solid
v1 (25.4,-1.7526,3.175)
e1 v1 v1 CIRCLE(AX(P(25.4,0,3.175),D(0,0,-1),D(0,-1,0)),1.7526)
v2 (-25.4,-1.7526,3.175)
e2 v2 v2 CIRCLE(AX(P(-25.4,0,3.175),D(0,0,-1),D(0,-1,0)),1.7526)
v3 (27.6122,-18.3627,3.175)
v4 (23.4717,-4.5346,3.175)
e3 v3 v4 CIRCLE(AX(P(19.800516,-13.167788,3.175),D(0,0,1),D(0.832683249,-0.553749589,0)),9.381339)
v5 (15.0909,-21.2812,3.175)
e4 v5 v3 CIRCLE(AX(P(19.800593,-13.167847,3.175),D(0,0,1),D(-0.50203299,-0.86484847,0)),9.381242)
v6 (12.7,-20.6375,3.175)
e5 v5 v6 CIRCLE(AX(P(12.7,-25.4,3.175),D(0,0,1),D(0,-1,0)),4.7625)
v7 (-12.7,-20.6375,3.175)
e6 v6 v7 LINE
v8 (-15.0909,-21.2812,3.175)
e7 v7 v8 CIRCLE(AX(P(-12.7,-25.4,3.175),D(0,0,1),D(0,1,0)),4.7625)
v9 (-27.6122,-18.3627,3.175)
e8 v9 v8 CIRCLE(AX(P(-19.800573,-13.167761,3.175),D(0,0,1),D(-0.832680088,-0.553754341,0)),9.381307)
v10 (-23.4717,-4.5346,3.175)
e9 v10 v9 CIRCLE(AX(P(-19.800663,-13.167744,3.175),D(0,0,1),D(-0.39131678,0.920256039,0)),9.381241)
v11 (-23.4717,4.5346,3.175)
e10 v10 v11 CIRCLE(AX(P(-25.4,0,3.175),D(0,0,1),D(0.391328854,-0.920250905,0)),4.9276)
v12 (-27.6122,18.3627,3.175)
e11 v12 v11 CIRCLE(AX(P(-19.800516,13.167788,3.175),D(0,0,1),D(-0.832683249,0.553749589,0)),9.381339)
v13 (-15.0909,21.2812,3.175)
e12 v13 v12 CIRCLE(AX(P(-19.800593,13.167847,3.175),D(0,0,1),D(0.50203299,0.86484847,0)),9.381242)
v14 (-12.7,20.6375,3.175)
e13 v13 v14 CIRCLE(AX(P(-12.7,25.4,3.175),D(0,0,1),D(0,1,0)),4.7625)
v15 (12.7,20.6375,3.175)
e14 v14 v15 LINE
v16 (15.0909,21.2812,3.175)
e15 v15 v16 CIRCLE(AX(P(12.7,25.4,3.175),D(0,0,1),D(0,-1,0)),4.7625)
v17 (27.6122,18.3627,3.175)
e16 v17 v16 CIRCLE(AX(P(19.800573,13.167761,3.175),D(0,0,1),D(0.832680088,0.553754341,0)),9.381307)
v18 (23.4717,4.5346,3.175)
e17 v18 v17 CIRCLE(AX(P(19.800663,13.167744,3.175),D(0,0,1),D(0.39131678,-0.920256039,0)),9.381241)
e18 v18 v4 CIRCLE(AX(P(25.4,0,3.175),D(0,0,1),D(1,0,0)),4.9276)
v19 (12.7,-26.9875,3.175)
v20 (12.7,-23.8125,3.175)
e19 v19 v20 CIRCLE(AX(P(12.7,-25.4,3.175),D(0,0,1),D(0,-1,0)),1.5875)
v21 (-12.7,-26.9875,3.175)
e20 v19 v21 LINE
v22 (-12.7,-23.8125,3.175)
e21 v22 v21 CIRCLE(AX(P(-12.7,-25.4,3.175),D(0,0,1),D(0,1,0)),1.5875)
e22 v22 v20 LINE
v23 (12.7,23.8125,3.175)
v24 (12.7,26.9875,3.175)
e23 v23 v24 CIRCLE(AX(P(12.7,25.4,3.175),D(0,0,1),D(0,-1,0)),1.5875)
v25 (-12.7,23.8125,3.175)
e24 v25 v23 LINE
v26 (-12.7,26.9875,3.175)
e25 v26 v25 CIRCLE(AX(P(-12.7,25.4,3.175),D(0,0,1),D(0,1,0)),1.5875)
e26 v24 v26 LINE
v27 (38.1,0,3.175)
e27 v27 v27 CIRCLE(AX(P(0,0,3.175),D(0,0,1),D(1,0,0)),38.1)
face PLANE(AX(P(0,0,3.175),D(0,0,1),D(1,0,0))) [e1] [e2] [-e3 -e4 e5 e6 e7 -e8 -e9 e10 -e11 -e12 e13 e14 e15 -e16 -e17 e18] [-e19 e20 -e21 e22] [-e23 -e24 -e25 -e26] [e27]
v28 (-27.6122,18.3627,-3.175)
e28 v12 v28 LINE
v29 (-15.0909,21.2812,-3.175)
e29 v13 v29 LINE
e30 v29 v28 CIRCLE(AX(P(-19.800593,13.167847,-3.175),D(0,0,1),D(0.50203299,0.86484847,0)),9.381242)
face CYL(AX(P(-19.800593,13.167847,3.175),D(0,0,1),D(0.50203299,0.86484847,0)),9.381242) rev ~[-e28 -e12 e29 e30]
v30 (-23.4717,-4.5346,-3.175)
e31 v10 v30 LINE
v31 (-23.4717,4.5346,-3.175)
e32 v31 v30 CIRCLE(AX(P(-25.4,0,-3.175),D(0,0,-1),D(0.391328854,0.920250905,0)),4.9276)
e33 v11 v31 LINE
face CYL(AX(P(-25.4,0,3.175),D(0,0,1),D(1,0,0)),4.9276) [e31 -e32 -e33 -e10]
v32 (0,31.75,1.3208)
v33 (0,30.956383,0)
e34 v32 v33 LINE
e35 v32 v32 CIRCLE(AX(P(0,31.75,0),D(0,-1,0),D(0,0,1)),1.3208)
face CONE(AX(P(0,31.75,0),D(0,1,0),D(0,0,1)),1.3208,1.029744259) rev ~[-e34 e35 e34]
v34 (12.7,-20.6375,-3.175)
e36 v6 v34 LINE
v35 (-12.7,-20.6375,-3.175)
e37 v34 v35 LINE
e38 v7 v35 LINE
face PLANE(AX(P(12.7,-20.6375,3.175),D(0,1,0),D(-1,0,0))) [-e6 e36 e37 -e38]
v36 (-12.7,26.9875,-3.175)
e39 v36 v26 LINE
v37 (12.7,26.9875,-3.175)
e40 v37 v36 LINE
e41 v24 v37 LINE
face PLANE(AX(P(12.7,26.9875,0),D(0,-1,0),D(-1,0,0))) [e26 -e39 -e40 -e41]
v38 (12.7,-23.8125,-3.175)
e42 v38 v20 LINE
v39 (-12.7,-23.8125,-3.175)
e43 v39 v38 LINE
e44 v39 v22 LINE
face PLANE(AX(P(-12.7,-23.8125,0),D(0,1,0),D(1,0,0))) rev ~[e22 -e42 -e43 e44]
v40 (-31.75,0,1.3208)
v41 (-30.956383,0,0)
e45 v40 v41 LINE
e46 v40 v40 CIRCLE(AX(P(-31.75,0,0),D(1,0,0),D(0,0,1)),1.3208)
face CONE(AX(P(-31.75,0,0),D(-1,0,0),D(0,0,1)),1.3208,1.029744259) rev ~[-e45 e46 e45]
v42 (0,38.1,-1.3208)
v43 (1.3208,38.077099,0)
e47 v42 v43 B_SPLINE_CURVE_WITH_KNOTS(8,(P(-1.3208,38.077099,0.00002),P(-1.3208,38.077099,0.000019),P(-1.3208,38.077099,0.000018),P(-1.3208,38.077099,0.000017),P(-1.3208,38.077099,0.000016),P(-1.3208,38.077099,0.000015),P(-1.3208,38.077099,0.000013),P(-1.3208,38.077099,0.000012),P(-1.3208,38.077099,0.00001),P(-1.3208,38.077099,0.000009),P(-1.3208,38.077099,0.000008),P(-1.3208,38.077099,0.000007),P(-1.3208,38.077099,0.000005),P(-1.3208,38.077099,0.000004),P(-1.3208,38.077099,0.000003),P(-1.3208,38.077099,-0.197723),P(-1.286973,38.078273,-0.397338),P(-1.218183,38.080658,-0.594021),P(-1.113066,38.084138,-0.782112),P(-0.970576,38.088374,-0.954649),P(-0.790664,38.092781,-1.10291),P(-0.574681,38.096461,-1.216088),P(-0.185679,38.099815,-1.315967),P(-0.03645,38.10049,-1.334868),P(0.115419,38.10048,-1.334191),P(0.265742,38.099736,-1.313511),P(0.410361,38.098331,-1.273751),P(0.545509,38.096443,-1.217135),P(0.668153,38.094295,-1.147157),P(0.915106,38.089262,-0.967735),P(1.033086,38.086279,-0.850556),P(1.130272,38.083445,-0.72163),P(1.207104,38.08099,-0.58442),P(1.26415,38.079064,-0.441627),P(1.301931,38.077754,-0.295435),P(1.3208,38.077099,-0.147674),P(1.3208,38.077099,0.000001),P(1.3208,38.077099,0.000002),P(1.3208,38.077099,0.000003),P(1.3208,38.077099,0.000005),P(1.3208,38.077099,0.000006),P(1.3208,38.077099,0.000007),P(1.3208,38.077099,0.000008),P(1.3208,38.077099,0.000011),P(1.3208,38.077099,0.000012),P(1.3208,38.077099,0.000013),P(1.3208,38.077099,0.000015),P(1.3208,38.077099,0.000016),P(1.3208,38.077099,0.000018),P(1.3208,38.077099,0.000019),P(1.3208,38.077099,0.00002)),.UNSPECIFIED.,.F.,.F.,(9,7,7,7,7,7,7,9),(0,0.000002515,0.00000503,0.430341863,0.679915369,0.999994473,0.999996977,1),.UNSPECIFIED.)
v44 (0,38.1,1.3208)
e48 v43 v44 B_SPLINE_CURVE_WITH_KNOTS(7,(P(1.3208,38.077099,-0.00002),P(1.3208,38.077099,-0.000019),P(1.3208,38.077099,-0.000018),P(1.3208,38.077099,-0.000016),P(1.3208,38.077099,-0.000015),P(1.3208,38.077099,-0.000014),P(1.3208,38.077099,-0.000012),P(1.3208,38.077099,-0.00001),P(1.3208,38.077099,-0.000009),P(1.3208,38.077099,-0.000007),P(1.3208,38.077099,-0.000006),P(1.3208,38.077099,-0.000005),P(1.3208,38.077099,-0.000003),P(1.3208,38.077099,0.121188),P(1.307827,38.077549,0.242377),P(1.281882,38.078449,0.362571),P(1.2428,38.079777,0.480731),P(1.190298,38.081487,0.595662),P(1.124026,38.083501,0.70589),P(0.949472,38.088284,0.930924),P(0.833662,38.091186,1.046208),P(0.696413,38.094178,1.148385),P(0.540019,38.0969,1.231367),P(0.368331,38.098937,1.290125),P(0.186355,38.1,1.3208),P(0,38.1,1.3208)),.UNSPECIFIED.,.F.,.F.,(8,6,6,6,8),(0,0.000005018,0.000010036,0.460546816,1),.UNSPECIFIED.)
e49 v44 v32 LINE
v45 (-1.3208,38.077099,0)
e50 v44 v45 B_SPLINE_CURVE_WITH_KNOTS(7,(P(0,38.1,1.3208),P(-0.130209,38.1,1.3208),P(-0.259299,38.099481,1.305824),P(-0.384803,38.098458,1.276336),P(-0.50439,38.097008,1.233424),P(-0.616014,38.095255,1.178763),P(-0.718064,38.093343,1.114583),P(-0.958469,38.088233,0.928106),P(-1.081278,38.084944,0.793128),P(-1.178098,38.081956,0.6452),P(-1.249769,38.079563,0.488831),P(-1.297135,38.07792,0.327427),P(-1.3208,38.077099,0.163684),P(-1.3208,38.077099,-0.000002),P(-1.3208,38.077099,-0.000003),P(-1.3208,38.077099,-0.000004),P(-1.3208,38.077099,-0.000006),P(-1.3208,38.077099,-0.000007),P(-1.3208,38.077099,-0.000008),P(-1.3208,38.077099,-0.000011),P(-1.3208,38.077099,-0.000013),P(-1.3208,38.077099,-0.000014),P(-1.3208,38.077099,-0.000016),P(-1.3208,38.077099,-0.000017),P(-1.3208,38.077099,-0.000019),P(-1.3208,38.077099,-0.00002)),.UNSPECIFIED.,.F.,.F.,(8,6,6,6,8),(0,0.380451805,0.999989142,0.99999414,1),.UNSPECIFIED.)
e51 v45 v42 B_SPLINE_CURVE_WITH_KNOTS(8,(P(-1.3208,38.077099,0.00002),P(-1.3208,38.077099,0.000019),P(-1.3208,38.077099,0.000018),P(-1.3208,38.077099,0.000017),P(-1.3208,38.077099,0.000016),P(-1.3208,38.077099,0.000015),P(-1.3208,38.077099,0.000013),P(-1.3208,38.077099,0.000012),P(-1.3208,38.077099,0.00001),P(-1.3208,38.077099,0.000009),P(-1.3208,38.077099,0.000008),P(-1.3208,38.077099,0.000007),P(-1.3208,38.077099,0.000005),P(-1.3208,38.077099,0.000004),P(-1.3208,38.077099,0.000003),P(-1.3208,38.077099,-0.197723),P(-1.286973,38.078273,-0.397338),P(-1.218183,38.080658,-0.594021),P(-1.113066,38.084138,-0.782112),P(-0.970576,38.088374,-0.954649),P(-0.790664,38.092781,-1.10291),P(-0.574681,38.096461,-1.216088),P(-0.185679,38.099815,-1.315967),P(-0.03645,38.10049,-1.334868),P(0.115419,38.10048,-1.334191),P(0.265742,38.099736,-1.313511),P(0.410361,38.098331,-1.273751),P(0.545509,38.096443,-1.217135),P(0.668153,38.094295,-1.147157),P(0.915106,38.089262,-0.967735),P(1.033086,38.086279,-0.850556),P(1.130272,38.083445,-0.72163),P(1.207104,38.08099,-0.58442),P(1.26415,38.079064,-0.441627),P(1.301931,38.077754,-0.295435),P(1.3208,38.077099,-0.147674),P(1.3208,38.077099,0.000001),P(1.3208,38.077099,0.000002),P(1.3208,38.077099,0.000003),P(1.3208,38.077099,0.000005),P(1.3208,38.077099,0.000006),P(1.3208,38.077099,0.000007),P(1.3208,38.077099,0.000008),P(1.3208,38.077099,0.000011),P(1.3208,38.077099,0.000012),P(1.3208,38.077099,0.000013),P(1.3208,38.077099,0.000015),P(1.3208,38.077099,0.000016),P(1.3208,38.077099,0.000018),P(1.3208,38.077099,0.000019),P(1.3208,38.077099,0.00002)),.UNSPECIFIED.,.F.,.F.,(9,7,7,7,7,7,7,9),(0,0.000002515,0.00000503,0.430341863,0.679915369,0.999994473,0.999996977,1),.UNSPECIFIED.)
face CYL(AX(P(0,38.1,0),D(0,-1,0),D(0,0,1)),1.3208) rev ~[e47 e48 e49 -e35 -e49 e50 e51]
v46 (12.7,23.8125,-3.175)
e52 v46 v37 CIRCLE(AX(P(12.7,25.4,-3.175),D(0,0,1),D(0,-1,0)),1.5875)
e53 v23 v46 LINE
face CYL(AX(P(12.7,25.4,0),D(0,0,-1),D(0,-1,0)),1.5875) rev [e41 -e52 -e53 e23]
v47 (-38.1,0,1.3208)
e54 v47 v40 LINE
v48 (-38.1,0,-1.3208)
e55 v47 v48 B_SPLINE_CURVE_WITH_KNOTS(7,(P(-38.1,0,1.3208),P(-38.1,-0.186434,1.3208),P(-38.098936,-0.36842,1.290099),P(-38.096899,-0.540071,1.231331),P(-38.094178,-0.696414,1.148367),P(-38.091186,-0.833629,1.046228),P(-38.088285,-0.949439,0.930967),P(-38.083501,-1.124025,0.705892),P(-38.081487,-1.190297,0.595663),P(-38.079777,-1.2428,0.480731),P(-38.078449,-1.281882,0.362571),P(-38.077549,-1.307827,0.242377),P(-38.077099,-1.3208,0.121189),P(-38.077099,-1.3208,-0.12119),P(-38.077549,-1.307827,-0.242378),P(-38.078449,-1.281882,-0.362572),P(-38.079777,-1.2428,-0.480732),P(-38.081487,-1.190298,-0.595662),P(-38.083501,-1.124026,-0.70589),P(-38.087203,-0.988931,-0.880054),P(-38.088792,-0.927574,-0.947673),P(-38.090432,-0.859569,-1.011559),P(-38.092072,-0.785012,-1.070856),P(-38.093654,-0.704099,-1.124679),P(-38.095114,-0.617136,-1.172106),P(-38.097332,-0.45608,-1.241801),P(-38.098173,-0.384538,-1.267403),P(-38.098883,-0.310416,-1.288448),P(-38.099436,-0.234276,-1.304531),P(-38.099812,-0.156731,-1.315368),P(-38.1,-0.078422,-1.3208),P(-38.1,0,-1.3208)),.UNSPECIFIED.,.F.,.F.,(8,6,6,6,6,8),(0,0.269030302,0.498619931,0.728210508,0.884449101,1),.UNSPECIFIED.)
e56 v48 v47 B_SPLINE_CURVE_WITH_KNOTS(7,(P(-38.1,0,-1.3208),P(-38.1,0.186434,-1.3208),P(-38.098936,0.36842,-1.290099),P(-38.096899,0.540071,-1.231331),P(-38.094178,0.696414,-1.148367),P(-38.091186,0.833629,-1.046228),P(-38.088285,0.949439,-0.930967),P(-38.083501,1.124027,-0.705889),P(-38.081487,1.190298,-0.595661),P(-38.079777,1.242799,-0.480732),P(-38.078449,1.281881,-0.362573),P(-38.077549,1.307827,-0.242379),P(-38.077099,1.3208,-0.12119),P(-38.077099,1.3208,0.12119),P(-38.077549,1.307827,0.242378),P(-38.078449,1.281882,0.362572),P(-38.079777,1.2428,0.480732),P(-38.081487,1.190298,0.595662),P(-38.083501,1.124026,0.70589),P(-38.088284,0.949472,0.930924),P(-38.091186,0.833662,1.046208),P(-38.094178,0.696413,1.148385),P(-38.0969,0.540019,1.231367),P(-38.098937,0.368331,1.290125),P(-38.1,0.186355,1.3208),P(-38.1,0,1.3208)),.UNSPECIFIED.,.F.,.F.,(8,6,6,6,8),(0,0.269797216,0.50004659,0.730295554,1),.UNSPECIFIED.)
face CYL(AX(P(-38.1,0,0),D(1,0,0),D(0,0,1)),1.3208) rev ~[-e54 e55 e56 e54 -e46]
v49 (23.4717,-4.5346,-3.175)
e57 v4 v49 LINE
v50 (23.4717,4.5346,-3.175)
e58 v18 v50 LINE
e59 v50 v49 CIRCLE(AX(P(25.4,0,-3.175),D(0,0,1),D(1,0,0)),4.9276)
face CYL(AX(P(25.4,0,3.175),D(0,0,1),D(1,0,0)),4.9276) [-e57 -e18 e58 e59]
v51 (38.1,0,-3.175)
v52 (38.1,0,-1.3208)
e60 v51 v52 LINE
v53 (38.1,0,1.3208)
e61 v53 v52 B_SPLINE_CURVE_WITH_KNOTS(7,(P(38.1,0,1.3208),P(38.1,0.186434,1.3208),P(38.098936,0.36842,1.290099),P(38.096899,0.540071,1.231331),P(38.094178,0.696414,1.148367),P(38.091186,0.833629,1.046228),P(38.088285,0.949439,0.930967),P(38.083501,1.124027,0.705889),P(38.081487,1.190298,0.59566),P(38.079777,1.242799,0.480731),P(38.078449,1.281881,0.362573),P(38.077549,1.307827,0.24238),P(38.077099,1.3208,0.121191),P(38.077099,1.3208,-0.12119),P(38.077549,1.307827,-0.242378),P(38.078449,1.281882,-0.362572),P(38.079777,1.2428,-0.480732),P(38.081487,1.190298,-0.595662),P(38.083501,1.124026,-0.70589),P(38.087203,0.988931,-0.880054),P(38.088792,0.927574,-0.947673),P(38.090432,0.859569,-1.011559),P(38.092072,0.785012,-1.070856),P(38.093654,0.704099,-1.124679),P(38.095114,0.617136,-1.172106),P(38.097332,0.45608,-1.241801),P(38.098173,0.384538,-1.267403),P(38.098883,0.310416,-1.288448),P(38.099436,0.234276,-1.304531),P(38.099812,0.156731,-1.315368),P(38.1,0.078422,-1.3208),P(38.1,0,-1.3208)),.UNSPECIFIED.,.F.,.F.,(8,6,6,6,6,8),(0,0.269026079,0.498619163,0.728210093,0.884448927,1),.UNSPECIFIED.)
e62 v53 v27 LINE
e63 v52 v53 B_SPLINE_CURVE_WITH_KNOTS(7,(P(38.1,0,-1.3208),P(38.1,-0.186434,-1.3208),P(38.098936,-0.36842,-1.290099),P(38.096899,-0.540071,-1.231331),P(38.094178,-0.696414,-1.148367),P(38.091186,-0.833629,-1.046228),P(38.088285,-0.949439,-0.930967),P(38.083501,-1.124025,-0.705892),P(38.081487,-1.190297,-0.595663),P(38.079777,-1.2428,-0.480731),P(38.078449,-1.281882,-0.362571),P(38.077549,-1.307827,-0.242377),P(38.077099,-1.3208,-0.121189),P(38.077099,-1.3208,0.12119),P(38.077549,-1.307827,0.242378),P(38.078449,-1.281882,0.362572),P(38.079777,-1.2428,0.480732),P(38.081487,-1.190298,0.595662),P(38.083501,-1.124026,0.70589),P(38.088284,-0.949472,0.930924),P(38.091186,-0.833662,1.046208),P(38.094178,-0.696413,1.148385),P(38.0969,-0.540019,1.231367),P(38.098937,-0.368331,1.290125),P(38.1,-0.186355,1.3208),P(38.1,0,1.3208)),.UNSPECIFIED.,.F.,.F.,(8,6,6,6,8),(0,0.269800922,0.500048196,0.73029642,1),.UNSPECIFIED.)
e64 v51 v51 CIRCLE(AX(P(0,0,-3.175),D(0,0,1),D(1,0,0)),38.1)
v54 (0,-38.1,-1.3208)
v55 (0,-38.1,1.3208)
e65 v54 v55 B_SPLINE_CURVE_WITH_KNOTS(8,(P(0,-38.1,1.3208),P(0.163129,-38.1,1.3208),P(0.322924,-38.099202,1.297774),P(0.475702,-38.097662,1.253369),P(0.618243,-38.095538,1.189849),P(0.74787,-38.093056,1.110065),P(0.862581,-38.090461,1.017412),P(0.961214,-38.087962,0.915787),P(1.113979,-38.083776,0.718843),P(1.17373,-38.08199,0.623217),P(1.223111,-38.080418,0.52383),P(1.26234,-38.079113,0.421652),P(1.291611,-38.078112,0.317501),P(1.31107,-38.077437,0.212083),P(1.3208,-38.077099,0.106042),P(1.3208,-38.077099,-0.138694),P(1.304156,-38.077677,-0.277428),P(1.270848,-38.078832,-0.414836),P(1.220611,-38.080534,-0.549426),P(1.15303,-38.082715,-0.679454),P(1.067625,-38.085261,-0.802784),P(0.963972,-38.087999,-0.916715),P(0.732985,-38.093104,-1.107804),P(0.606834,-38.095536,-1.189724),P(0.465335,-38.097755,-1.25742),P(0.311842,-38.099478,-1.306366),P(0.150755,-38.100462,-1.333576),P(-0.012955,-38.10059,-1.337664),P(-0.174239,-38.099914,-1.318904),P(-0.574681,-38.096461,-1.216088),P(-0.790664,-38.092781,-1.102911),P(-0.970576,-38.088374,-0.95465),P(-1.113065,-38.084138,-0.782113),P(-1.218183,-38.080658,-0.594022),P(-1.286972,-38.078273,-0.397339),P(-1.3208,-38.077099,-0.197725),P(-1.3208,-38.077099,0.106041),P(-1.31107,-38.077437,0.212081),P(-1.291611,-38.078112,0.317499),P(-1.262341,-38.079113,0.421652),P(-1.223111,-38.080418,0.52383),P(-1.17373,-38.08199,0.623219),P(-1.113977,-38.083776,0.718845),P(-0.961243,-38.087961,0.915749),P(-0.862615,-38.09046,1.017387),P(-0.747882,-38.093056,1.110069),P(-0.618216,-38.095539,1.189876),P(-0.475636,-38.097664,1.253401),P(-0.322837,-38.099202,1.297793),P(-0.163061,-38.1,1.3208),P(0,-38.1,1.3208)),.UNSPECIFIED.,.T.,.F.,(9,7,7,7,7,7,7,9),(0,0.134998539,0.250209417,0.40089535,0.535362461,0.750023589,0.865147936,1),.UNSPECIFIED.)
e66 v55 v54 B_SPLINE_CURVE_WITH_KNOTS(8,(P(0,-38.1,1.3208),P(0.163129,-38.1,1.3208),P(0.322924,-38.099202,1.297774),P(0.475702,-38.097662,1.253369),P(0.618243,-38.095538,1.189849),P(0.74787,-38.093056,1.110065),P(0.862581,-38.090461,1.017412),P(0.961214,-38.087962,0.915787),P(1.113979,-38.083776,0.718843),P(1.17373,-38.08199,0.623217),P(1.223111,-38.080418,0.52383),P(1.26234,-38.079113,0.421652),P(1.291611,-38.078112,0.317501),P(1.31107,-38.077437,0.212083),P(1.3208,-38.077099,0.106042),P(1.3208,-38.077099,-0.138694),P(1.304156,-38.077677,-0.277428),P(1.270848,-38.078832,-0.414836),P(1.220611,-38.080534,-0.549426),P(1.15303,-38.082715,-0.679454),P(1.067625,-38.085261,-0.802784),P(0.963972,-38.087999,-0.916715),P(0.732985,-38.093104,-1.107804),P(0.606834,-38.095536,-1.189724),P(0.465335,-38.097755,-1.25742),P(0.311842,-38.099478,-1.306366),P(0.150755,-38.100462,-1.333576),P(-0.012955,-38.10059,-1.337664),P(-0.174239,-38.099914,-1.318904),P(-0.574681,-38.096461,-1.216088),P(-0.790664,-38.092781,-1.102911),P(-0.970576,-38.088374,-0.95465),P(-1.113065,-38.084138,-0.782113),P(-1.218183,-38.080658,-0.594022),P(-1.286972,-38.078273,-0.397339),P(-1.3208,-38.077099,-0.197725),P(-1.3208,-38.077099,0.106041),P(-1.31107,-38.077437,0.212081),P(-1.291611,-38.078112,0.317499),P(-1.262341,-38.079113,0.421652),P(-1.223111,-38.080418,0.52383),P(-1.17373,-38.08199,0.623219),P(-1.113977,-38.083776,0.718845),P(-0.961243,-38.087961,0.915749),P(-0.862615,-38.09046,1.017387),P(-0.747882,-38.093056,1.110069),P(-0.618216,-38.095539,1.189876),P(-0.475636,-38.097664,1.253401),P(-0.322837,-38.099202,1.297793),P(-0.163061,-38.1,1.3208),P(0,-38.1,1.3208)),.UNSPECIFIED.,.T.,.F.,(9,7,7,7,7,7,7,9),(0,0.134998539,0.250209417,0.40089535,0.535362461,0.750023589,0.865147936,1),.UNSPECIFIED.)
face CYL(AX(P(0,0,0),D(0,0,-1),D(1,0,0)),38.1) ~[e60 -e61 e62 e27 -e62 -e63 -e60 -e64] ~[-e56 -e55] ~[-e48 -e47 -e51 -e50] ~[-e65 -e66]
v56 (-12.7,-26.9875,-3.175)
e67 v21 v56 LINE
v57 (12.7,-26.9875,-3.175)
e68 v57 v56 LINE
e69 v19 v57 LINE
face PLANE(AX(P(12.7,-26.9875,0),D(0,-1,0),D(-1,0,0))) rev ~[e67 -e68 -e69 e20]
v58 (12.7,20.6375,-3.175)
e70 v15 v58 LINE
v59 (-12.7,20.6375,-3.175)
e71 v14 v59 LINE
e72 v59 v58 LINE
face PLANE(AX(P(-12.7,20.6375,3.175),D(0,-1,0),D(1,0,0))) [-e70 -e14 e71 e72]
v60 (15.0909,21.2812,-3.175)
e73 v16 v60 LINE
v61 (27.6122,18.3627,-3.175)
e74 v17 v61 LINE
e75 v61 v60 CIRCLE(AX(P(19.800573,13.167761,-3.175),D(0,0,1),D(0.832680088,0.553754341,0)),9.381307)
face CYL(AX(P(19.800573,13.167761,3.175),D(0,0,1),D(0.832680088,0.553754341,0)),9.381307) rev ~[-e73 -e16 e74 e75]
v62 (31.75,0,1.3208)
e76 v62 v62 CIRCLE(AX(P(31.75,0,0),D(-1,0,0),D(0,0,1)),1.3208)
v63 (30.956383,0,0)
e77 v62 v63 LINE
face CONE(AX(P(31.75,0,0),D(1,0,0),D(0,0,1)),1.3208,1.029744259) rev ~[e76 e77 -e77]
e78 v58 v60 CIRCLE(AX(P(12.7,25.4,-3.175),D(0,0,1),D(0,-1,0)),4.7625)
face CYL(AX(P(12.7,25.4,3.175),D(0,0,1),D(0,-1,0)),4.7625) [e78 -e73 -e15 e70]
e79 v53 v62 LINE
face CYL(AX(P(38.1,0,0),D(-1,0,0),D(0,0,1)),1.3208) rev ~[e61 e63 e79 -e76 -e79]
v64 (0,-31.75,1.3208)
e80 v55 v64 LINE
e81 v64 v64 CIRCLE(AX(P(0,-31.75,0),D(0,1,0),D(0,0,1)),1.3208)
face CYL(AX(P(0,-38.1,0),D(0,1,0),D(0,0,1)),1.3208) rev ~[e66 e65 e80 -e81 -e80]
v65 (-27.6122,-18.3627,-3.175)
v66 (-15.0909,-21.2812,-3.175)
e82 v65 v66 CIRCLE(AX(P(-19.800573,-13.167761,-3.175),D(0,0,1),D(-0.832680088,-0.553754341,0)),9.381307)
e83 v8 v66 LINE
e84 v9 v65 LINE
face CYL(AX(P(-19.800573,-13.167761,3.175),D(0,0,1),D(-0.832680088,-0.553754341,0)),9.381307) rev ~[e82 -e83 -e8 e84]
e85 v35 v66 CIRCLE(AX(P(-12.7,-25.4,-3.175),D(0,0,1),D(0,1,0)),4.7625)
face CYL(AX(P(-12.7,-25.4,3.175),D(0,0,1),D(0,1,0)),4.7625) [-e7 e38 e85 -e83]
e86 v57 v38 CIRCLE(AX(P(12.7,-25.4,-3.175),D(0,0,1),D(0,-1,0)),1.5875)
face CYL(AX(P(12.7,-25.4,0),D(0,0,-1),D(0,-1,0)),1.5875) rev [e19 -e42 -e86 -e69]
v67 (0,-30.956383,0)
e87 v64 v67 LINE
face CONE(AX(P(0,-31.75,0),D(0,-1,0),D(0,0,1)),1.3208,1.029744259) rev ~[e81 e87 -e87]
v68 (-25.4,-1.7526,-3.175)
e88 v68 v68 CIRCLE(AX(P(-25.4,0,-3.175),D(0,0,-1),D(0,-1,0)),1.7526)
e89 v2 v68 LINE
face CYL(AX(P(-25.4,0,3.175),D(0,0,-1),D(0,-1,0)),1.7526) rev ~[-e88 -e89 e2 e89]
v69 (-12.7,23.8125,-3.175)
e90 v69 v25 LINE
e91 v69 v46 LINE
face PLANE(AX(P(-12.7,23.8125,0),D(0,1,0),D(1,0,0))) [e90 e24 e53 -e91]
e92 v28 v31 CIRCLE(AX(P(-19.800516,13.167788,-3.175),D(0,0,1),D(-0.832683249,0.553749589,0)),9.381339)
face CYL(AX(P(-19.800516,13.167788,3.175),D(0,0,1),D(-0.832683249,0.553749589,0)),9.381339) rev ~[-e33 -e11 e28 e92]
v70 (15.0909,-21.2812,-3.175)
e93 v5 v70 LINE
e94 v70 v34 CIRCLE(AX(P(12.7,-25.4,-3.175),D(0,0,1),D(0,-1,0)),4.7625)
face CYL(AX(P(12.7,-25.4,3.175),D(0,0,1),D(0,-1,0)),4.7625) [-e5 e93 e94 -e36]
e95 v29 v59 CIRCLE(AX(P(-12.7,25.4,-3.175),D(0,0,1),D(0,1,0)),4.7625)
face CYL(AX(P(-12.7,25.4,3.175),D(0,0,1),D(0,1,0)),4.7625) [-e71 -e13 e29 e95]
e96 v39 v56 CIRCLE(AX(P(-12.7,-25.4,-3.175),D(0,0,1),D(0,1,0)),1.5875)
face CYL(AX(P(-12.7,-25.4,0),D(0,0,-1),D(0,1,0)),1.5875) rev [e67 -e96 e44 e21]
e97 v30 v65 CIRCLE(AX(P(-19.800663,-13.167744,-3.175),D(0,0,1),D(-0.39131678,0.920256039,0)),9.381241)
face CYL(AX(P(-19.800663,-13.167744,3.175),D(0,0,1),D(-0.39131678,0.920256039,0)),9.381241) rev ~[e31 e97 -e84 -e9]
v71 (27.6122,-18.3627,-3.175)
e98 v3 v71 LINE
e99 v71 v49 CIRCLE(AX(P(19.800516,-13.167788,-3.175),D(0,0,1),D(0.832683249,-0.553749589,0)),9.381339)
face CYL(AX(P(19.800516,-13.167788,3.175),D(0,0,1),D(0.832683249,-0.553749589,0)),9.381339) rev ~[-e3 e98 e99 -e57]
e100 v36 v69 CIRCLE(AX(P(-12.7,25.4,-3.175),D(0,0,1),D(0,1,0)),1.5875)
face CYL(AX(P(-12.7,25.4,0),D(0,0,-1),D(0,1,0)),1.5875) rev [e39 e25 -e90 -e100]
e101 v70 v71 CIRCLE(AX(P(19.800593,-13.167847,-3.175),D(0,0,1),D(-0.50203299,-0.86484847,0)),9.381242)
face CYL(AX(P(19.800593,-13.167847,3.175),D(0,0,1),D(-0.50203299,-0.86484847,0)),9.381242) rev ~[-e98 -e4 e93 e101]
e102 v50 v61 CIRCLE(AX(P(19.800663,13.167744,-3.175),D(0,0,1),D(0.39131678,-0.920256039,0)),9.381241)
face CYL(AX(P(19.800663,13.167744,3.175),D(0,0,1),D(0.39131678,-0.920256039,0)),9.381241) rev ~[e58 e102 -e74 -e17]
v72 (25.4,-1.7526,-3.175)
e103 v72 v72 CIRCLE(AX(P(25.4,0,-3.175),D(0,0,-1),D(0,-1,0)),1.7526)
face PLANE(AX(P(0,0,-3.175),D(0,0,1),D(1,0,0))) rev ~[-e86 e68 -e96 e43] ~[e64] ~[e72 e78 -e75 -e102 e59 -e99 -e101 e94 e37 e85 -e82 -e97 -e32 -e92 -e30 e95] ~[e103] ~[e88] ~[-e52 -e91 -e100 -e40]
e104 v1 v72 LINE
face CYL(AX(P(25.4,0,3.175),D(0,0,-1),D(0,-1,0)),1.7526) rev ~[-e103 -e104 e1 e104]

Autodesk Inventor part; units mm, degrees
ref_plane "YZ Plane" through (0, 0, 0) normal (1, 0, 0) x (0, 1, 0)
ref_plane "XY Plane" through (0, 0, 0) normal (0, 0, 1) x (1, 0, 0)
sketch "Sketch1" plane through (0, 0, 0) normal (0, 0, 1) x (1, 0, 0)
  circle A0 centre (0, 0) radius 38.1
  line L0 (-12.7, 25.4) -> (12.7, 25.4) construction
  line L1 (-12.7, 23.8125) -> (12.7, 23.8125)
  line L2 (12.7, 26.9875) -> (-12.7, 26.9875)
  arc A1 (-12.7, 26.9875) -> (-12.7, 23.8125) centre (-12.7, 25.4) ccw
  arc A2 (12.7, 23.8125) -> (12.7, 26.9875) centre (12.7, 25.4) ccw
  line L3 (0, 38.1) -> (0, -38.1) construction
  line L4 (-38.1, 0) -> (38.1, 0) construction
  line L5 (-12.7, -25.4) -> (12.7, -25.4) construction
  line L6 (-12.7, -23.8125) -> (12.7, -23.8125)
  line L7 (12.7, -26.9875) -> (-12.7, -26.9875)
  arc A3 (-12.7, -23.8125) -> (-12.7, -26.9875) centre (-12.7, -25.4) ccw
  arc A4 (12.7, -26.9875) -> (12.7, -23.8125) centre (12.7, -25.4) ccw
  point P0 (0, 25.4)
  point P1 (0, -25.4)
  dimension "d0" = 76.2
  dimension "d1" = 25.4
  dimension "d2" = 1.5875
  dimension "d3" = 25.4
extrude "Extrusion1" add sketch "Sketch1" along normal mid plane 6.35
sketch "Sketch2" plane through (0, 0, 3.175) normal (0, 0, 1) x (1, 0, 0)
  circle A0 centre (0, 0) radius 38.1 construction
  line L0 (0, 38.1) -> (0, -38.1) construction
  point P0 (-25.4, 0)
  point P1 (25.4, 0)
  dimension "d8" = 25.4
hole "Hole1" at (-25.4, 0, 3.175) at (25.4, 0, 3.175) direction (0, 0, -1) diameter 3.5052 end through all
sketch "Sketch3" plane through (0, 0, 3.175) normal (0, 0, 1) x (1, 0, 0)
  circle A0 centre (25.4, 0) radius 1.7526 construction
  circle A1 centre (-25.4, 0) radius 1.7526 construction
  circle A2 centre (0, 0) radius 38.1 construction
  line L0 (12.7, -26.9875) -> (-12.7, -26.9875) construction
  arc A3 (-12.7, -23.8125) -> (-12.7, -26.9875) centre (-12.7, -25.4) ccw construction
  line L1 (-12.7, -23.8125) -> (12.7, -23.8125) construction
  arc A4 (12.7, -26.9875) -> (12.7, -23.8125) centre (12.7, -25.4) ccw construction
  arc A5 (-12.7, 26.9875) -> (-12.7, 23.8125) centre (-12.7, 25.4) ccw construction
  line L2 (-12.7, 26.9875) -> (12.7, 26.9875) construction
  arc A6 (12.7, 23.8125) -> (12.7, 26.9875) centre (12.7, 25.4) ccw construction
  line L3 (12.7, 23.8125) -> (-12.7, 23.8125) construction
  line L4 (12.7, 30.1625) -> (-12.7, 30.1625)
  arc A7 (-12.7, 30.1625) -> (-12.7, 20.6375) centre (-12.7, 25.4) ccw
  line L5 (-12.7, 20.6375) -> (12.7, 20.6375)
  arc A8 (12.7, 20.6375) -> (12.7, 30.1625) centre (12.7, 25.4) ccw
  circle A9 centre (-25.4, 0) radius 4.9276
  circle A10 centre (25.4, 0) radius 4.9276
  line L6 (12.7, -20.6375) -> (-12.7, -20.6375)
  arc A11 (-12.7, -20.6375) -> (-12.7, -30.1625) centre (-12.7, -25.4) ccw
  line L7 (-12.7, -30.1625) -> (12.7, -30.1625)
  arc A12 (12.7, -30.1625) -> (12.7, -20.6375) centre (12.7, -25.4) ccw
  circle A13 centre (0, 0) radius 33.1606
  arc A14 (-27.6122, 18.3627) -> (-23.4717, 4.5346) centre (-19.8006, 13.1678) ccw
  arc A15 (-23.4717, -4.5346) -> (-27.6122, -18.3627) centre (-19.8006, -13.1678) ccw
  arc A16 (23.4717, 4.5346) -> (27.6122, 18.3627) centre (19.8006, 13.1678) ccw
  arc A17 (27.6122, -18.3627) -> (23.4717, -4.5346) centre (19.8006, -13.1678) ccw
  arc A18 (-27.6122, -18.3627) -> (-15.0909, -21.2812) centre (-19.8006, -13.1678) ccw
  arc A19 (15.0909, -21.2812) -> (27.6122, -18.3627) centre (19.8006, -13.1678) ccw
  arc A20 (-15.0909, 21.2812) -> (-27.6122, 18.3627) centre (-19.8006, 13.1678) ccw
  arc A21 (27.6122, 18.3627) -> (15.0909, 21.2812) centre (19.8006, 13.1678) ccw
  dimension "d16" = 3.175
  dimension "d17" = 3.175
  dimension "d18" = 3.175
  dimension "d19" = 3.175
extrude "Extrusion2" cut sketch "Sketch3" against normal through all contours A21 A16 A10 A17 A19 A12 L6 A11 A18 A15 A9 A14 A20 A7 L5 A8
ref_plane "Work Plane1" through (0, 38.1, 0) normal (0, 1, 0) x (-1, 0, 0)
sketch "Sketch4" plane through (0, 38.1, 0) normal (0, 1, 0) x (-1, 0, 0)
  point P0 (0, 0)
  point P1 (0, 0)
hole "Hole2" at (0, 38.1, 0) direction (0, -1, 0) diameter 2.6416 depth 6.35 tip angle 118 thread size "6-32 UNC" class "2B" standard "ANSI Unified Screw Threads"
pattern_circular "Circular Pattern1" count 4 over 360 about axis through (0, 0, 0) along (0, 0, 1) of "Hole2"
properties part number "DeploymentBulkhead"
